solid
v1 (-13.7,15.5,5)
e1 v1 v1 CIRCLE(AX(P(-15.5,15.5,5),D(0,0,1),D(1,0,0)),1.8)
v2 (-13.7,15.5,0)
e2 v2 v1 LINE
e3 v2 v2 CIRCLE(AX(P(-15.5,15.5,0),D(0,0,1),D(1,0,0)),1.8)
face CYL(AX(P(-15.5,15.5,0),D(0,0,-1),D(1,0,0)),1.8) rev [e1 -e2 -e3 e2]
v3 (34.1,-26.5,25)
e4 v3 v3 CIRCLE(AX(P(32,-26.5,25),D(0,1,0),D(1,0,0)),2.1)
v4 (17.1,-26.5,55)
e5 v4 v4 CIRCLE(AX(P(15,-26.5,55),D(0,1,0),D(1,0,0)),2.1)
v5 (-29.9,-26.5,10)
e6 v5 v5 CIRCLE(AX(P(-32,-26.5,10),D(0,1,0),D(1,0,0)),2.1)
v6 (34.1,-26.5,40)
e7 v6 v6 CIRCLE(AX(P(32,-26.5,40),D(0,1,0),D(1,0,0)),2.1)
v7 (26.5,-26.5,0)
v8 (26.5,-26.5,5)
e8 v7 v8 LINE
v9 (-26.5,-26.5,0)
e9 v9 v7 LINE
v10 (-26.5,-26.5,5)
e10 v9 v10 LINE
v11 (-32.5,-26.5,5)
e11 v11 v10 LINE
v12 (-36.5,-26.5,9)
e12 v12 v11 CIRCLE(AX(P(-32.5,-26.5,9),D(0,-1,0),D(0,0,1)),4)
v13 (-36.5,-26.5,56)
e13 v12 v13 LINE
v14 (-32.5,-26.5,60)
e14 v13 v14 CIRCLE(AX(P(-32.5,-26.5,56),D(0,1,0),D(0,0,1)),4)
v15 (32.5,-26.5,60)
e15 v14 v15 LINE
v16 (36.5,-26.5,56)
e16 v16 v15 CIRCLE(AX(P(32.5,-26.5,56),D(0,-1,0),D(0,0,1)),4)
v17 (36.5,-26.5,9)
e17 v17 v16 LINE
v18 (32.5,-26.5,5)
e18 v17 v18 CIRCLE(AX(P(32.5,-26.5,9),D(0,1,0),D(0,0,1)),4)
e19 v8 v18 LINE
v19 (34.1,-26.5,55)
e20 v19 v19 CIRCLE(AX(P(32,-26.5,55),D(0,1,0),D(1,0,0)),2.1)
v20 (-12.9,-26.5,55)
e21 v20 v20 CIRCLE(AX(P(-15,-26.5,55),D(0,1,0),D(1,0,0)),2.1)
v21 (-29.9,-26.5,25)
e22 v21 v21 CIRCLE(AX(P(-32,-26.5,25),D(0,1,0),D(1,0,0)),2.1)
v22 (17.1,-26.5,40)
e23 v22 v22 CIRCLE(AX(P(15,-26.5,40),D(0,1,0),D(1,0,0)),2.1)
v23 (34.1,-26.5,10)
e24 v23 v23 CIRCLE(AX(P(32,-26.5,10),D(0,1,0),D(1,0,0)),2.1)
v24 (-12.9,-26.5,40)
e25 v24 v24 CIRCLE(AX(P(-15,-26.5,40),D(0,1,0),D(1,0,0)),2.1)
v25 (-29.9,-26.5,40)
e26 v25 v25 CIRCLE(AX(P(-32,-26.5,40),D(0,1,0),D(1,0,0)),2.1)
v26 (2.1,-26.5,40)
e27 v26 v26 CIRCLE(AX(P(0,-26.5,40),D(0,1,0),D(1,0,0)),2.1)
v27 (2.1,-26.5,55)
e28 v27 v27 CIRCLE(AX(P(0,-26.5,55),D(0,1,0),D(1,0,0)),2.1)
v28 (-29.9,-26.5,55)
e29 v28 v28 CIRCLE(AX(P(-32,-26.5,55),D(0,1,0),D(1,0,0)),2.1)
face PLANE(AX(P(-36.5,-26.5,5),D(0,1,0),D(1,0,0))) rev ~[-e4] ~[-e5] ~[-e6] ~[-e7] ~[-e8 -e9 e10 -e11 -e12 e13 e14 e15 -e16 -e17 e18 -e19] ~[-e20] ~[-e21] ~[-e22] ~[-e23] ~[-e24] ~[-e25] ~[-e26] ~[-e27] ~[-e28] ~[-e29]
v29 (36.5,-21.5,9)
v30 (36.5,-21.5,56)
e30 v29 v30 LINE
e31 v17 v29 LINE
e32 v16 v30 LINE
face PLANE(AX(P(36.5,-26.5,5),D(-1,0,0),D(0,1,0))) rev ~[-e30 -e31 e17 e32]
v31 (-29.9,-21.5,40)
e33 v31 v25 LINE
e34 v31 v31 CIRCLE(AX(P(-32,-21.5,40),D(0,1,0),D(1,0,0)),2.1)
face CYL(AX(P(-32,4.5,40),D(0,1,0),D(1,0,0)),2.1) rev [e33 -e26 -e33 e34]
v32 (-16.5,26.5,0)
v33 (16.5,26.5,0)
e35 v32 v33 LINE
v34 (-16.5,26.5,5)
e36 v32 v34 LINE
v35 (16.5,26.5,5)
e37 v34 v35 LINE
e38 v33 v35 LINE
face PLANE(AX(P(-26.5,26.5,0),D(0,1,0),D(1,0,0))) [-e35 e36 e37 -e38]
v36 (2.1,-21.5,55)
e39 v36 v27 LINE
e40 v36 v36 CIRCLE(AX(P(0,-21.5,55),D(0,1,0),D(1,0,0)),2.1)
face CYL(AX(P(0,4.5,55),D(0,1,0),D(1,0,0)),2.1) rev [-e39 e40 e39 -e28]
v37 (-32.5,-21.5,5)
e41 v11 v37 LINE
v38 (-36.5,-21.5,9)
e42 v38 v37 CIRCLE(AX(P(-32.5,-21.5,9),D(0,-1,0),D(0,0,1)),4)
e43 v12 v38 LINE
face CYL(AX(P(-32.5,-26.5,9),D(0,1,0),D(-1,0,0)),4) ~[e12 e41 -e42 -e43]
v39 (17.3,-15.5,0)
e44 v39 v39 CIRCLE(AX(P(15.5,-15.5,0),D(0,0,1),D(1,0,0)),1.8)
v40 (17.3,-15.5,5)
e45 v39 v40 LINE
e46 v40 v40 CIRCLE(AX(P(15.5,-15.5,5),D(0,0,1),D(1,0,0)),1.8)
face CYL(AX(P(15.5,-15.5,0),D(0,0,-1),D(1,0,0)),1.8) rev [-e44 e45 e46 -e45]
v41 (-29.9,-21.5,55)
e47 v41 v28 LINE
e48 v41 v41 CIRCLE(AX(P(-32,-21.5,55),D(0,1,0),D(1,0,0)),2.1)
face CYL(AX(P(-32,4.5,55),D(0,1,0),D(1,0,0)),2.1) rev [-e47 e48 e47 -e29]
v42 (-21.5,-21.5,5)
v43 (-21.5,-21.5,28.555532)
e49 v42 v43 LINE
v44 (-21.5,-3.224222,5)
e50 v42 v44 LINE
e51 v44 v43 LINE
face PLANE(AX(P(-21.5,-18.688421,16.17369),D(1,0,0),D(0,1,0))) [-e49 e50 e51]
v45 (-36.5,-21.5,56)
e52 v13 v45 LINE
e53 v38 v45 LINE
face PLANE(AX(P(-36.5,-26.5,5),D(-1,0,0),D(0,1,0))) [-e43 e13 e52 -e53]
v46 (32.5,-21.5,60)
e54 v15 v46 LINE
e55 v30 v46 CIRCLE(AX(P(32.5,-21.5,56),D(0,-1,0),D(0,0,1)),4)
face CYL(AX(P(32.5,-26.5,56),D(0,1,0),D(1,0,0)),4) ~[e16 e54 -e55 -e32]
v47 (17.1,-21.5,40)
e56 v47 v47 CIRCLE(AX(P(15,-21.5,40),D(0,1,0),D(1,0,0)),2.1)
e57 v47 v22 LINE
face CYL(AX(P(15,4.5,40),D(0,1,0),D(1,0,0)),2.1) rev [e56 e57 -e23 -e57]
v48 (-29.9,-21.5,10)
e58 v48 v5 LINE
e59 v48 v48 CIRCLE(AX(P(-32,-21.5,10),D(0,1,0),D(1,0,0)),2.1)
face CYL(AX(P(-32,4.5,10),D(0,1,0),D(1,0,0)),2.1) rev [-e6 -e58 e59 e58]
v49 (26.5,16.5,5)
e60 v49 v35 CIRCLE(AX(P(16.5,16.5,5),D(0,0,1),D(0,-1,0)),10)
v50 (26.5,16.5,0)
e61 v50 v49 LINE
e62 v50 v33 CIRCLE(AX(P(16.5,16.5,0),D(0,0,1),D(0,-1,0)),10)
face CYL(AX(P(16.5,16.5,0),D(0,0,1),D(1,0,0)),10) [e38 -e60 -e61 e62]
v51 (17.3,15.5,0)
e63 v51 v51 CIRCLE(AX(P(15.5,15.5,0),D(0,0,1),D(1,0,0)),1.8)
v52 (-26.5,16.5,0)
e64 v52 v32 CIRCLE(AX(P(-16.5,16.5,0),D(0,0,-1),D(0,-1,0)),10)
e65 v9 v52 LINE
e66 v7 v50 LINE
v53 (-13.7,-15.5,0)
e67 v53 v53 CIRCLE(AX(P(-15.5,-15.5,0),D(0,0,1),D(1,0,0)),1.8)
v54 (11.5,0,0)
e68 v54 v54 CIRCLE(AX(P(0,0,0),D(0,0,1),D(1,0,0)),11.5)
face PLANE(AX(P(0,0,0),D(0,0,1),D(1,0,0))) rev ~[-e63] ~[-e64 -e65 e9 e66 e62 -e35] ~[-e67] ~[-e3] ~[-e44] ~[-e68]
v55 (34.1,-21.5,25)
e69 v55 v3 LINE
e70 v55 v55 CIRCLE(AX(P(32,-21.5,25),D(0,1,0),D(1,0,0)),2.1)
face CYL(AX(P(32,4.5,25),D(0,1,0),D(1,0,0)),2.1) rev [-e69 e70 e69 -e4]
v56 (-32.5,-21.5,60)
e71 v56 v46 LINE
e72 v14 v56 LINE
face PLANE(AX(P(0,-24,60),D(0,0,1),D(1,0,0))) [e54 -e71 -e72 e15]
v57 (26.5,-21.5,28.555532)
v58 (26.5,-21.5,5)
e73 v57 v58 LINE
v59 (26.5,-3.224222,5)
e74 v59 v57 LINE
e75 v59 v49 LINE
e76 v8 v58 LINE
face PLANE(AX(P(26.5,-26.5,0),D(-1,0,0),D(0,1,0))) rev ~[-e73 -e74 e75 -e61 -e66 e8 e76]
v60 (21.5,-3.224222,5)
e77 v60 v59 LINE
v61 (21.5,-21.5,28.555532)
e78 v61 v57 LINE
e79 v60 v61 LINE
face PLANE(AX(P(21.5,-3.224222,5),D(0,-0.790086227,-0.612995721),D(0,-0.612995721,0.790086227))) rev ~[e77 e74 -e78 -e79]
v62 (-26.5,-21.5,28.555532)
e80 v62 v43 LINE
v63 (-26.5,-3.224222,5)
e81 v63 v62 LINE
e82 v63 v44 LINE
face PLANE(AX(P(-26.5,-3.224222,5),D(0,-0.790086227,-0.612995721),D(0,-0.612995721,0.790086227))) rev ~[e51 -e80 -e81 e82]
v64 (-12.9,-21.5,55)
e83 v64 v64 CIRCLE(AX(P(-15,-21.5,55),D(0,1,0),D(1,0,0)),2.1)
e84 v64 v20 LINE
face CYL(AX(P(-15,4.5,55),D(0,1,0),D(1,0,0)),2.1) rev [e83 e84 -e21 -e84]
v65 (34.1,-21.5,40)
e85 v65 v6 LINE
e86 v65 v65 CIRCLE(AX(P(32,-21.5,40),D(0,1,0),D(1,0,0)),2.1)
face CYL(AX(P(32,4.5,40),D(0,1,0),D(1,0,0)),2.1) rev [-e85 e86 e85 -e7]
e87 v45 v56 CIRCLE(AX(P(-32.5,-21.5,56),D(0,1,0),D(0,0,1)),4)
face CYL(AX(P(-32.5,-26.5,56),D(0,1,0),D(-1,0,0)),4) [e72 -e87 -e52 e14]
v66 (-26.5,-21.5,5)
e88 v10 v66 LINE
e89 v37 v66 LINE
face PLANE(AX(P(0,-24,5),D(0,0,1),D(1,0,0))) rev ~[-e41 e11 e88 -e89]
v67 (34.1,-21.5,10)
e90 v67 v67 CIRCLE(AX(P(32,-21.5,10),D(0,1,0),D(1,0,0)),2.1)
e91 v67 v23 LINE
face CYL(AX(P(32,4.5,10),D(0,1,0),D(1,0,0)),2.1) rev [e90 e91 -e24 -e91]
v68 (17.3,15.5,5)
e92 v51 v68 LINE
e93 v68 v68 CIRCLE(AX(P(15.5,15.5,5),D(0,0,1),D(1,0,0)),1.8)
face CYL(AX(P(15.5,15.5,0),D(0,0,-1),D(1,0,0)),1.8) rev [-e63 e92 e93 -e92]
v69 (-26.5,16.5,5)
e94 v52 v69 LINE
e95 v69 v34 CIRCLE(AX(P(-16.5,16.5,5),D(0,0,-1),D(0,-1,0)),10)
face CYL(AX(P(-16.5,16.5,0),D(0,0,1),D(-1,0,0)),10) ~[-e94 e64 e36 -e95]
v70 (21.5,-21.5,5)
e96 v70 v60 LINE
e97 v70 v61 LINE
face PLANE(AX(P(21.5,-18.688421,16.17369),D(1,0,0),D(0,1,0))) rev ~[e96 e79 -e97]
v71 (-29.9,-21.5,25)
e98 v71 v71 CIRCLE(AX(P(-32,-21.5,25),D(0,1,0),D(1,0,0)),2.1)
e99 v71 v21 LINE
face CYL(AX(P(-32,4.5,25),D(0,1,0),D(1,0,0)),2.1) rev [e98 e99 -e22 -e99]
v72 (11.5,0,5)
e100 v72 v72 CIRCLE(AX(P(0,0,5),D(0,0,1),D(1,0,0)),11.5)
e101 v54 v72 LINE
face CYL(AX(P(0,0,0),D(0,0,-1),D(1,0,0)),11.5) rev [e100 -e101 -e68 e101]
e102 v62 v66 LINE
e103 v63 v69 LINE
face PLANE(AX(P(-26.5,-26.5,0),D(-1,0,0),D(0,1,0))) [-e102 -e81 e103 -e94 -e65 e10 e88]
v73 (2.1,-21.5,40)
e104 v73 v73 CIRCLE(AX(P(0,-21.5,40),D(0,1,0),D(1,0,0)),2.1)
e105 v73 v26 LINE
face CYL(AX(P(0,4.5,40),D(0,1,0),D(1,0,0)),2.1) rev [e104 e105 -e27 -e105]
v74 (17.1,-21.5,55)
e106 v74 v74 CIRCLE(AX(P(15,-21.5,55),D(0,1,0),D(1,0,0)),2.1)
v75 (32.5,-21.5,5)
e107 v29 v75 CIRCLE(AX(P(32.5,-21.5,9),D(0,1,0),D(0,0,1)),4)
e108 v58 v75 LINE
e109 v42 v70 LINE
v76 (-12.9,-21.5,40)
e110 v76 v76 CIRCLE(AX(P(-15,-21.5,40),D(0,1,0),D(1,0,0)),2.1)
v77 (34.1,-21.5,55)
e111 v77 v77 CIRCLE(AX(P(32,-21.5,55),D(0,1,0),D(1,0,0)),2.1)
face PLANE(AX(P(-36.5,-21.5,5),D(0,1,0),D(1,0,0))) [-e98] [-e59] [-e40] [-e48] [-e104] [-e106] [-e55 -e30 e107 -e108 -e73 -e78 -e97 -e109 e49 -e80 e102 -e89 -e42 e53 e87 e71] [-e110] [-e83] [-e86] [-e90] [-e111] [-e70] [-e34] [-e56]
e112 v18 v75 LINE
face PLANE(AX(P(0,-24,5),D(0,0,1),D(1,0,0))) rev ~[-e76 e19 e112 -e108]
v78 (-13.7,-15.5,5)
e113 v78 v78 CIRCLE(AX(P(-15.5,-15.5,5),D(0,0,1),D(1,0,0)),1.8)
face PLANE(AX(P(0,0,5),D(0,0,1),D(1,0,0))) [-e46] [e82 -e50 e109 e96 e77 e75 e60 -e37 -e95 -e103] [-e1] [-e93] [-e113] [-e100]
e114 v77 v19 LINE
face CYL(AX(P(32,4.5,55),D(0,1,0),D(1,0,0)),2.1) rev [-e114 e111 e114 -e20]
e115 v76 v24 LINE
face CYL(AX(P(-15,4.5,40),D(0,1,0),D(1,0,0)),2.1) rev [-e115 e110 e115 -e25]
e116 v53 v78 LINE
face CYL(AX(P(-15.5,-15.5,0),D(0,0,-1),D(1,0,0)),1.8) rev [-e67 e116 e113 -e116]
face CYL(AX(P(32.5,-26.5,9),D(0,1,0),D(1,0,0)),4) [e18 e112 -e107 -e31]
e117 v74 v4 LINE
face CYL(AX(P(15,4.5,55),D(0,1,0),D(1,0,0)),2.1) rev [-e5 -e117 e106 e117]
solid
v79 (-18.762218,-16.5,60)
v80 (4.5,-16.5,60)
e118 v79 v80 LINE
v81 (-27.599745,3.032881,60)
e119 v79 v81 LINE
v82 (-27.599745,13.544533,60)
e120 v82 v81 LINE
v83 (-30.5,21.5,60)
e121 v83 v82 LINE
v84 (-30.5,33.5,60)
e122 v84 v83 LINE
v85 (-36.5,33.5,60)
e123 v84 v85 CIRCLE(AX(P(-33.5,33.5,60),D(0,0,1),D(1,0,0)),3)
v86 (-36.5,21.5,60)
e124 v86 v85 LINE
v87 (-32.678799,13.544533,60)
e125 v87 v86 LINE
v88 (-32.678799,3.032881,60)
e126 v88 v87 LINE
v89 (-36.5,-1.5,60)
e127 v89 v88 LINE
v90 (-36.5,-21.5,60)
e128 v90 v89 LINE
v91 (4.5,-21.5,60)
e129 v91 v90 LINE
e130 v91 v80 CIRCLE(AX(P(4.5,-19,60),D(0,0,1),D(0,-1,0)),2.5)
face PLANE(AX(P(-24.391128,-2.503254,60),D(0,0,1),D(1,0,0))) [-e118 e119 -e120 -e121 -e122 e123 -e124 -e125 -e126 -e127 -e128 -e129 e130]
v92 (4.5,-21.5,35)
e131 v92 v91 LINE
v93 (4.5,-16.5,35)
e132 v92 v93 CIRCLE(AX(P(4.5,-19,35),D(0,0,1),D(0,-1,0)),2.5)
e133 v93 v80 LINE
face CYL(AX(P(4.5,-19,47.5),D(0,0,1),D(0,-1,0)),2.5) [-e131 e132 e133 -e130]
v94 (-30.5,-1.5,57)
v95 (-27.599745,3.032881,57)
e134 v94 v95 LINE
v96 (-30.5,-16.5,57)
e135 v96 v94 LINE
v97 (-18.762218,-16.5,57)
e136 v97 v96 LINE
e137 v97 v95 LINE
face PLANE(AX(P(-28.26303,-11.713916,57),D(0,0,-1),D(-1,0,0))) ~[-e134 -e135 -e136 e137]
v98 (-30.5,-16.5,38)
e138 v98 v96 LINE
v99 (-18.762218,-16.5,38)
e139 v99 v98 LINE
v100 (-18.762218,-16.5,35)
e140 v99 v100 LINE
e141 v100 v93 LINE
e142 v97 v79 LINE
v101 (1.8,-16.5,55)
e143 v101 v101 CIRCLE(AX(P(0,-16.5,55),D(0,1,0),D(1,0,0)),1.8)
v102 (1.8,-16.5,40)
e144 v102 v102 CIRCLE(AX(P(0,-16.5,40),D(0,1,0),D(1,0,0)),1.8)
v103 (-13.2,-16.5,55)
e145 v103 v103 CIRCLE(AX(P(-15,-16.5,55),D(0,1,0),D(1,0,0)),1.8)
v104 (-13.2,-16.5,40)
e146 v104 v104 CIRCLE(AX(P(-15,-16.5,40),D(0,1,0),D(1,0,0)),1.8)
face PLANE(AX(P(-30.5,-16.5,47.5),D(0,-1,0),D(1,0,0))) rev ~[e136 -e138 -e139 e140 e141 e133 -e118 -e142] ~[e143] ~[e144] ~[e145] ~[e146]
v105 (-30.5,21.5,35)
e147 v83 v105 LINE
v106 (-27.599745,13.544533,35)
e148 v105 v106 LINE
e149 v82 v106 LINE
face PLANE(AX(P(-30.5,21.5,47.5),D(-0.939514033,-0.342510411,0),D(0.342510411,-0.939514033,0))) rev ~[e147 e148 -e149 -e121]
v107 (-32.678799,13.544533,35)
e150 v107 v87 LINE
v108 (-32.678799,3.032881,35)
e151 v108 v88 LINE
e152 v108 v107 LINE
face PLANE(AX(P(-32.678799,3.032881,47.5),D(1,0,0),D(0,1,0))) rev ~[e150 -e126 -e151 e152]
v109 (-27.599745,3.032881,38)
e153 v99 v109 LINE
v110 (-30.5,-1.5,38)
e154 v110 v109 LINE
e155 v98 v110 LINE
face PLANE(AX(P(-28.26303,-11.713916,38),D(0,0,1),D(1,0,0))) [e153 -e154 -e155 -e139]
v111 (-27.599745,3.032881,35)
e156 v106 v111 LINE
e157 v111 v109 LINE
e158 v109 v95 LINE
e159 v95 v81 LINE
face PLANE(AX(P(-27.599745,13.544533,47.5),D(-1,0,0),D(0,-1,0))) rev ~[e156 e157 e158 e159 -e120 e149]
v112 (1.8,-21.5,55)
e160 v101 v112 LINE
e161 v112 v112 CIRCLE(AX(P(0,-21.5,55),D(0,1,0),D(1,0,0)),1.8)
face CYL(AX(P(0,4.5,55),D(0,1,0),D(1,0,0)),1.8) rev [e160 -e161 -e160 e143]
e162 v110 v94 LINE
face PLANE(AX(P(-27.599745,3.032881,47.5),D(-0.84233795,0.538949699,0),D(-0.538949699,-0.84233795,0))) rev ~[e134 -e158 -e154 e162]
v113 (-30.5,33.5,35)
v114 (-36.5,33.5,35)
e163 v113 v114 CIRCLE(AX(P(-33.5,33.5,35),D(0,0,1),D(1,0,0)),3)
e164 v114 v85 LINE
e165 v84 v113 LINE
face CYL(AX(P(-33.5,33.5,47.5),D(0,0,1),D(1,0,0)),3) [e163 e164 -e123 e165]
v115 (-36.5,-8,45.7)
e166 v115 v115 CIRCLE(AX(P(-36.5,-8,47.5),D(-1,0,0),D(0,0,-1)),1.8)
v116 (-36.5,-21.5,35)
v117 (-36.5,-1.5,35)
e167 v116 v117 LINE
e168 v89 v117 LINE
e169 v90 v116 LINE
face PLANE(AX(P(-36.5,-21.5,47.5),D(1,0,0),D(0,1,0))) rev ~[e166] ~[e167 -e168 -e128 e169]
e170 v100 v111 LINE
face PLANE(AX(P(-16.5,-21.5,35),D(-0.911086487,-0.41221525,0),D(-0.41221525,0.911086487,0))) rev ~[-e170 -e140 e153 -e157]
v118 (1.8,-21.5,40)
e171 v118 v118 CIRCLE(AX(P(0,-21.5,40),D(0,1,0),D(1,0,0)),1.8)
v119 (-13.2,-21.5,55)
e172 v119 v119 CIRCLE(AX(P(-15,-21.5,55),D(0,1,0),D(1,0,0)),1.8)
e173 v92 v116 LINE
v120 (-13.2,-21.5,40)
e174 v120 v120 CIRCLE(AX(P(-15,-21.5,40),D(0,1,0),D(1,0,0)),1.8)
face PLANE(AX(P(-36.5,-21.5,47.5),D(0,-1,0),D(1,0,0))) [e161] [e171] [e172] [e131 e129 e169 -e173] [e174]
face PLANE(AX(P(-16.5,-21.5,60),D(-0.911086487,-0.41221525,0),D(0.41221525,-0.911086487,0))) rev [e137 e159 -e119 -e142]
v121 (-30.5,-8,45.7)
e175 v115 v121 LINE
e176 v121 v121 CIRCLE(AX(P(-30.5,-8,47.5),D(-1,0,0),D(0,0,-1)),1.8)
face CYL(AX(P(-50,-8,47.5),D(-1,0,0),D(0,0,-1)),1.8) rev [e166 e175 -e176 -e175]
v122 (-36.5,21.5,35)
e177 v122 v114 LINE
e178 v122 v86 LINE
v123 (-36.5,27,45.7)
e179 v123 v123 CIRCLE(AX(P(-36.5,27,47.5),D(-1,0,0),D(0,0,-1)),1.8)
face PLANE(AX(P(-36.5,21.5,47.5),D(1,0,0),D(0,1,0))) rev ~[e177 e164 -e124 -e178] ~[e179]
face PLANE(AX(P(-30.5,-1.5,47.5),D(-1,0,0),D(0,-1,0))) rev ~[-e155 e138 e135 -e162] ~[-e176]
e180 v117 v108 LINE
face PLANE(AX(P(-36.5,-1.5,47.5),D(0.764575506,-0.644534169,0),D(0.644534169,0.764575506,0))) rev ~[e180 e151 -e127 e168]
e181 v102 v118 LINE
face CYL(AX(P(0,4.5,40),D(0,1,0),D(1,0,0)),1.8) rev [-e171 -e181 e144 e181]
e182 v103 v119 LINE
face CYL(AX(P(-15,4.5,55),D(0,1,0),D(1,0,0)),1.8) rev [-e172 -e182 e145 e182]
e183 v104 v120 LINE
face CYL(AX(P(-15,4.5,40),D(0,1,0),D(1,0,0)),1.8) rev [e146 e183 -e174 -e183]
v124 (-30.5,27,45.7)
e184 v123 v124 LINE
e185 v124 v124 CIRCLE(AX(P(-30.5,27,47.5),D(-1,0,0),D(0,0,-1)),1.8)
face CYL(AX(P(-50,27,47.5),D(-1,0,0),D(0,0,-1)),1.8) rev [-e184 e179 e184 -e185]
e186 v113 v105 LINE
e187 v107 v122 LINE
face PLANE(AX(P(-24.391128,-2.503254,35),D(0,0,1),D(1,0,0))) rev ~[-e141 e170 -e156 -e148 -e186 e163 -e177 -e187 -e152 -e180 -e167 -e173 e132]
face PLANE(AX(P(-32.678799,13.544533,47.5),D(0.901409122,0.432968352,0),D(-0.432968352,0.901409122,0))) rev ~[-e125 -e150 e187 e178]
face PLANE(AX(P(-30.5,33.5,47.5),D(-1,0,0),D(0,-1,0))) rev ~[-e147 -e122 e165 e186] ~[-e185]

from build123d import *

# Parameters (mm, degrees)
CYLINDER098_R            = 1.8
CYLINDER098_DEPTH        = 5
ARRAY001_X_COUNT         = 2
ARRAY001_X_PITCH         = 31
ARRAY001_Y_COUNT         = 2
ARRAY001_Y_PITCH         = 31
CYLINDER_R               = 2.1
CYLINDER_DEPTH           = 50
ARRAY_X_COUNT            = 2
ARRAY_X_PITCH            = 64
ARRAY_Y_COUNT            = 4
ARRAY_Y_PITCH            = 15
ARRAY_PLACEMENT_ANGLE    = 90
CYLINDER099_R            = 2.1
CYLINDER099_DEPTH        = 50
ARRAY003_X_COUNT         = 3
ARRAY003_X_PITCH         = 15
ARRAY003_Y_COUNT         = 2
ARRAY003_Y_PITCH         = 15
ARRAY003_PLACEMENT_ANGLE = 90
CYLINDER097_R            = 11.5
CYLINDER097_DEPTH        = 5
BOX005_W                 = 53
BOX005_H                 = 53
BOX005_DEPTH             = 5
FILLET001_R              = 10
BOX006_W                 = 73
BOX006_H                 = 5
BOX006_DEPTH             = 55
FILLET_R                 = 4
PAD001_DEPTH             = 5
ARRAY002_X_COUNT         = 2
ARRAY002_X_PITCH         = 48
CYLINDER101_R            = 1.8
CYLINDER101_DEPTH        = 50
ARRAY005_Y_COUNT         = 2
ARRAY005_Y_PITCH         = 35
CYLINDER100_R            = 1.8
CYLINDER100_DEPTH        = 50
ARRAY004_X_COUNT         = 3
ARRAY004_X_PITCH         = 15
ARRAY004_Y_COUNT         = 2
ARRAY004_Y_PITCH         = 15
ARRAY004_PLACEMENT_ANGLE = 90
EXTRUDE001_DEPTH         = 3
EXTRUDE_DEPTH            = 12.5


with BuildPart() as stepper_bolt_hole_array:
    # Cylinder098 → Cylinder098 (new body)
    with BuildSketch(Plane.XY):
        Circle(CYLINDER098_R)
    extrude(amount=CYLINDER098_DEPTH)

    # Array001 X: stepper bolt hole array ×2


with BuildPart() as stepper_bolt_hole_array_1:
    add(stepper_bolt_hole_array.part)
    with Locations(*[(i * ARRAY001_X_PITCH, 0, 0) for i in range(1, ARRAY001_X_COUNT)]):
        add(stepper_bolt_hole_array.part)

    # Array001 Y: stepper bolt hole array ×2


with BuildPart() as stepper_bolt_hole_array_2:
    add(stepper_bolt_hole_array_1.part)
    with Locations(*[(0, i * ARRAY001_Y_PITCH, 0) for i in range(1, ARRAY001_Y_COUNT)]):
        add(stepper_bolt_hole_array_1.part)


with BuildPart() as stepper_bolt_hole_array_3:
    # Array001 placement: moved
    add(stepper_bolt_hole_array_2.part.moved(Location((-15.5, -15.5, 0))))


with BuildPart() as bottom_hole_array:
    # Cylinder → Cylinder (new body)
    with BuildSketch(Plane.XY.offset(-25)):
        Circle(CYLINDER_R)
    extrude(amount=CYLINDER_DEPTH)

    # Array X: bottom hole array ×2


with BuildPart() as bottom_hole_array_1:
    add(bottom_hole_array.part)
    with Locations(*[(i * ARRAY_X_PITCH, 0, 0) for i in range(1, ARRAY_X_COUNT)]):
        add(bottom_hole_array.part)

    # Array Y: bottom hole array ×4


with BuildPart() as bottom_hole_array_2:
    add(bottom_hole_array_1.part)
    with Locations(*[(0, i * ARRAY_Y_PITCH, 0) for i in range(1, ARRAY_Y_COUNT)]):
        add(bottom_hole_array_1.part)


with BuildPart() as bottom_hole_array_3:
    # Array placement: moved
    add(bottom_hole_array_2.part.moved(Location((-32, -20.5, 10))).rotate(Axis((-32, -20.5, 10), (1, 0, 0)), ARRAY_PLACEMENT_ANGLE))


with BuildPart() as inserter_hole_array:
    # Cylinder099 → Cylinder099 (new body)
    with BuildSketch(Plane.XY.offset(-25)):
        Circle(CYLINDER099_R)
    extrude(amount=CYLINDER099_DEPTH)

    # Array003 X: inserter hole array ×3


with BuildPart() as inserter_hole_array_1:
    add(inserter_hole_array.part)
    with Locations(*[(i * ARRAY003_X_PITCH, 0, 0) for i in range(1, ARRAY003_X_COUNT)]):
        add(inserter_hole_array.part)

    # Array003 Y: inserter hole array ×2


with BuildPart() as inserter_hole_array_2:
    add(inserter_hole_array_1.part)
    with Locations(*[(0, i * ARRAY003_Y_PITCH, 0) for i in range(1, ARRAY003_Y_COUNT)]):
        add(inserter_hole_array_1.part)


with BuildPart() as inserter_hole_array_3:
    # Array003 placement: moved
    add(inserter_hole_array_2.part.moved(Location((-15, -20.5, 40))).rotate(Axis((-15, -20.5, 40), (1, 0, 0)), ARRAY003_PLACEMENT_ANGLE))


with BuildPart() as stepper_mount_holes:
    # Cylinder097 → Cylinder097 (new body)
    with BuildSketch(Plane.XY):
        Circle(CYLINDER097_R)
    extrude(amount=CYLINDER097_DEPTH)

    # Fusion006: union stepper bolt hole array, bottom hole array, inserter hole array
    add(stepper_bolt_hole_array_3.part)
    add(bottom_hole_array_3.part)
    add(inserter_hole_array_3.part)


with BuildPart() as stepper_mount_cube_fillet:
    # Box005 → Box005 (new body)
    with BuildSketch(Plane(origin=(-26.5, -26.5, 0), x_dir=(1, 0, 0), z_dir=(0, 0, 1))):
        with Locations((26.5, 26.5)):
            Rectangle(BOX005_W, BOX005_H)
    extrude(amount=BOX005_DEPTH)

    # Fillet001
    fillet001_edges = [stepper_mount_cube_fillet.edges().sort_by_distance(p)[0] for p in [
        (-26.5, 26.5, 2.5),
        (26.5, 26.5, 2.5),
    ]]
    fillet(fillet001_edges, radius=FILLET001_R)


with BuildPart() as stepper_mount_bottom_fillet:
    # Box006 → Box006 (new body)
    with BuildSketch(Plane(origin=(-36.5, -26.5, 5), x_dir=(1, 0, 0), z_dir=(0, 0, 1))):
        with Locations((36.5, 2.5)):
            Rectangle(BOX006_W, BOX006_H)
    extrude(amount=BOX006_DEPTH)

    # Fillet
    fillet_edges = [stepper_mount_bottom_fillet.edges().sort_by_distance(p)[0] for p in [
        (-36.5, -24, 60),
        (-36.5, -24, 5),
        (36.5, -24, 60),
        (36.5, -24, 5),
    ]]
    fillet(fillet_edges, radius=FILLET_R)


with BuildPart() as stepper_mount_cut:
    # Sketch001 → Pad001 (new body)
    with BuildSketch(Plane.YZ):
        Polygon((-26.5, 5), (-3.224222, 5), (-26.5, 35), align=None)
    extrude(amount=PAD001_DEPTH)

    # Array002 X: stepper mount cut ×2


with BuildPart() as stepper_mount_cut_1:
    add(stepper_mount_cut.part)
    with Locations(*[(i * ARRAY002_X_PITCH, 0, 0) for i in range(1, ARRAY002_X_COUNT)]):
        add(stepper_mount_cut.part)


with BuildPart() as stepper_mount_cut_2:
    # Array002 placement: moved
    add(stepper_mount_cut_1.part.moved(Location((-26.5, 0, 0))))

    # Fusion007: union stepper mount cube fillet, stepper mount bottom fillet
    add(stepper_mount_cube_fillet.part)
    add(stepper_mount_bottom_fillet.part)

    # Cut004: cut stepper mount holes
    add(stepper_mount_holes.part, mode=Mode.SUBTRACT)


with BuildPart() as wall_attachment_hole_array:
    # Cylinder101 → Cylinder101 (new body)
    with BuildSketch(Plane(origin=(-50, -8, 47.5), x_dir=(0, 0, -1), z_dir=(1, 0, 0))):
        Circle(CYLINDER101_R)
    extrude(amount=CYLINDER101_DEPTH)

    # Array005 Y: wall attachment hole array ×2


with BuildPart() as wall_attachment_hole_array_1:
    add(wall_attachment_hole_array.part)
    with Locations(*[(0, i * ARRAY005_Y_PITCH, 0) for i in range(1, ARRAY005_Y_COUNT)]):
        add(wall_attachment_hole_array.part)


with BuildPart() as wall_attachment_hole_fusion:
    # Cylinder100 → Cylinder100 (new body)
    with BuildSketch(Plane.XY.offset(-25)):
        Circle(CYLINDER100_R)
    extrude(amount=CYLINDER100_DEPTH)

    # Array004 X: wall attachment hole fusion ×3


with BuildPart() as wall_attachment_hole_fusion_1:
    add(wall_attachment_hole_fusion.part)
    with Locations(*[(i * ARRAY004_X_PITCH, 0, 0) for i in range(1, ARRAY004_X_COUNT)]):
        add(wall_attachment_hole_fusion.part)

    # Array004 Y: wall attachment hole fusion ×2


with BuildPart() as wall_attachment_hole_fusion_2:
    add(wall_attachment_hole_fusion_1.part)
    with Locations(*[(0, i * ARRAY004_Y_PITCH, 0) for i in range(1, ARRAY004_Y_COUNT)]):
        add(wall_attachment_hole_fusion_1.part)


with BuildPart() as wall_attachment_hole_fusion_3:
    # Array004 placement: moved
    add(wall_attachment_hole_fusion_2.part.moved(Location((-15, -20.5, 40))).rotate(Axis((-15, -20.5, 40), (1, 0, 0)), ARRAY004_PLACEMENT_ANGLE))

    # Fusion008: union wall attachment hole array
    add(wall_attachment_hole_array_1.part)


with BuildPart() as extrude001:
    # Sketch002 → Extrude001 (new body)
    with BuildSketch(Plane.XY):
        Polygon((-36.5, -21.5), (-16.5, -21.5), (-27.599745, 3.032881), (-36.5, -1.5), align=None)
    extrude(amount=EXTRUDE001_DEPTH)


with BuildPart() as extrude001_1:
    # Extrude001 placement: moved
    add(extrude001.part.moved(Location((0, 0, -12.5))))


with BuildPart() as part_mirroring:
    # Part__Mirroring: instance of Extrude001
    add(extrude001_1.part.mirror(Plane(origin=(0, 0, 0), x_dir=(0, 1, 0), z_dir=(0, 0, 1))))


with BuildPart() as wall_attachment_cut:
    # Sketch → Extrude (new body, symmetric)
    with BuildSketch(Plane.XY):
        with BuildLine():
            ThreePointArc((-30.5, 33.5), (-33.5, 36.5), (-36.5, 33.5))
            Line((-36.5, 21.5), (-36.5, 33.5))
            Line((-32.678799, 13.544533), (-36.5, 21.5))
            Line((-32.678799, 3.032881), (-32.678799, 13.544533))
            Line((-36.5, -1.5), (-32.678799, 3.032881))
            Line((-36.5, -21.5), (-36.5, -1.5))
            Line((-36.5, -21.5), (4.5, -21.5))
            ThreePointArc((4.5, -21.5), (7, -19), (4.5, -16.5))
            Line((-30.5, -16.5), (4.5, -16.5))
            Line((-30.5, -1.5), (-30.5, -16.5))
            Line((-27.599745, 3.032881), (-30.5, -1.5))
            Line((-27.599745, 13.544533), (-27.599745, 3.032881))
            Line((-30.5, 21.5), (-27.599745, 13.544533))
            Line((-30.5, 33.5), (-30.5, 21.5))
        make_face()
    extrude(amount=EXTRUDE_DEPTH, both=True)

    # Fusion: union Extrude001, Part__Mirroring
    add(extrude001_1.part)
    add(part_mirroring.part)


with BuildPart() as wall_attachment_cut_1:
    # Fusion placement: moved
    add(wall_attachment_cut.part.moved(Location((0, 0, 47.5))))

    # Cut005: cut wall attachment hole fusion
    add(wall_attachment_hole_fusion_3.part, mode=Mode.SUBTRACT)


solid = Compound([stepper_mount_cut_2.part, wall_attachment_cut_1.part])
